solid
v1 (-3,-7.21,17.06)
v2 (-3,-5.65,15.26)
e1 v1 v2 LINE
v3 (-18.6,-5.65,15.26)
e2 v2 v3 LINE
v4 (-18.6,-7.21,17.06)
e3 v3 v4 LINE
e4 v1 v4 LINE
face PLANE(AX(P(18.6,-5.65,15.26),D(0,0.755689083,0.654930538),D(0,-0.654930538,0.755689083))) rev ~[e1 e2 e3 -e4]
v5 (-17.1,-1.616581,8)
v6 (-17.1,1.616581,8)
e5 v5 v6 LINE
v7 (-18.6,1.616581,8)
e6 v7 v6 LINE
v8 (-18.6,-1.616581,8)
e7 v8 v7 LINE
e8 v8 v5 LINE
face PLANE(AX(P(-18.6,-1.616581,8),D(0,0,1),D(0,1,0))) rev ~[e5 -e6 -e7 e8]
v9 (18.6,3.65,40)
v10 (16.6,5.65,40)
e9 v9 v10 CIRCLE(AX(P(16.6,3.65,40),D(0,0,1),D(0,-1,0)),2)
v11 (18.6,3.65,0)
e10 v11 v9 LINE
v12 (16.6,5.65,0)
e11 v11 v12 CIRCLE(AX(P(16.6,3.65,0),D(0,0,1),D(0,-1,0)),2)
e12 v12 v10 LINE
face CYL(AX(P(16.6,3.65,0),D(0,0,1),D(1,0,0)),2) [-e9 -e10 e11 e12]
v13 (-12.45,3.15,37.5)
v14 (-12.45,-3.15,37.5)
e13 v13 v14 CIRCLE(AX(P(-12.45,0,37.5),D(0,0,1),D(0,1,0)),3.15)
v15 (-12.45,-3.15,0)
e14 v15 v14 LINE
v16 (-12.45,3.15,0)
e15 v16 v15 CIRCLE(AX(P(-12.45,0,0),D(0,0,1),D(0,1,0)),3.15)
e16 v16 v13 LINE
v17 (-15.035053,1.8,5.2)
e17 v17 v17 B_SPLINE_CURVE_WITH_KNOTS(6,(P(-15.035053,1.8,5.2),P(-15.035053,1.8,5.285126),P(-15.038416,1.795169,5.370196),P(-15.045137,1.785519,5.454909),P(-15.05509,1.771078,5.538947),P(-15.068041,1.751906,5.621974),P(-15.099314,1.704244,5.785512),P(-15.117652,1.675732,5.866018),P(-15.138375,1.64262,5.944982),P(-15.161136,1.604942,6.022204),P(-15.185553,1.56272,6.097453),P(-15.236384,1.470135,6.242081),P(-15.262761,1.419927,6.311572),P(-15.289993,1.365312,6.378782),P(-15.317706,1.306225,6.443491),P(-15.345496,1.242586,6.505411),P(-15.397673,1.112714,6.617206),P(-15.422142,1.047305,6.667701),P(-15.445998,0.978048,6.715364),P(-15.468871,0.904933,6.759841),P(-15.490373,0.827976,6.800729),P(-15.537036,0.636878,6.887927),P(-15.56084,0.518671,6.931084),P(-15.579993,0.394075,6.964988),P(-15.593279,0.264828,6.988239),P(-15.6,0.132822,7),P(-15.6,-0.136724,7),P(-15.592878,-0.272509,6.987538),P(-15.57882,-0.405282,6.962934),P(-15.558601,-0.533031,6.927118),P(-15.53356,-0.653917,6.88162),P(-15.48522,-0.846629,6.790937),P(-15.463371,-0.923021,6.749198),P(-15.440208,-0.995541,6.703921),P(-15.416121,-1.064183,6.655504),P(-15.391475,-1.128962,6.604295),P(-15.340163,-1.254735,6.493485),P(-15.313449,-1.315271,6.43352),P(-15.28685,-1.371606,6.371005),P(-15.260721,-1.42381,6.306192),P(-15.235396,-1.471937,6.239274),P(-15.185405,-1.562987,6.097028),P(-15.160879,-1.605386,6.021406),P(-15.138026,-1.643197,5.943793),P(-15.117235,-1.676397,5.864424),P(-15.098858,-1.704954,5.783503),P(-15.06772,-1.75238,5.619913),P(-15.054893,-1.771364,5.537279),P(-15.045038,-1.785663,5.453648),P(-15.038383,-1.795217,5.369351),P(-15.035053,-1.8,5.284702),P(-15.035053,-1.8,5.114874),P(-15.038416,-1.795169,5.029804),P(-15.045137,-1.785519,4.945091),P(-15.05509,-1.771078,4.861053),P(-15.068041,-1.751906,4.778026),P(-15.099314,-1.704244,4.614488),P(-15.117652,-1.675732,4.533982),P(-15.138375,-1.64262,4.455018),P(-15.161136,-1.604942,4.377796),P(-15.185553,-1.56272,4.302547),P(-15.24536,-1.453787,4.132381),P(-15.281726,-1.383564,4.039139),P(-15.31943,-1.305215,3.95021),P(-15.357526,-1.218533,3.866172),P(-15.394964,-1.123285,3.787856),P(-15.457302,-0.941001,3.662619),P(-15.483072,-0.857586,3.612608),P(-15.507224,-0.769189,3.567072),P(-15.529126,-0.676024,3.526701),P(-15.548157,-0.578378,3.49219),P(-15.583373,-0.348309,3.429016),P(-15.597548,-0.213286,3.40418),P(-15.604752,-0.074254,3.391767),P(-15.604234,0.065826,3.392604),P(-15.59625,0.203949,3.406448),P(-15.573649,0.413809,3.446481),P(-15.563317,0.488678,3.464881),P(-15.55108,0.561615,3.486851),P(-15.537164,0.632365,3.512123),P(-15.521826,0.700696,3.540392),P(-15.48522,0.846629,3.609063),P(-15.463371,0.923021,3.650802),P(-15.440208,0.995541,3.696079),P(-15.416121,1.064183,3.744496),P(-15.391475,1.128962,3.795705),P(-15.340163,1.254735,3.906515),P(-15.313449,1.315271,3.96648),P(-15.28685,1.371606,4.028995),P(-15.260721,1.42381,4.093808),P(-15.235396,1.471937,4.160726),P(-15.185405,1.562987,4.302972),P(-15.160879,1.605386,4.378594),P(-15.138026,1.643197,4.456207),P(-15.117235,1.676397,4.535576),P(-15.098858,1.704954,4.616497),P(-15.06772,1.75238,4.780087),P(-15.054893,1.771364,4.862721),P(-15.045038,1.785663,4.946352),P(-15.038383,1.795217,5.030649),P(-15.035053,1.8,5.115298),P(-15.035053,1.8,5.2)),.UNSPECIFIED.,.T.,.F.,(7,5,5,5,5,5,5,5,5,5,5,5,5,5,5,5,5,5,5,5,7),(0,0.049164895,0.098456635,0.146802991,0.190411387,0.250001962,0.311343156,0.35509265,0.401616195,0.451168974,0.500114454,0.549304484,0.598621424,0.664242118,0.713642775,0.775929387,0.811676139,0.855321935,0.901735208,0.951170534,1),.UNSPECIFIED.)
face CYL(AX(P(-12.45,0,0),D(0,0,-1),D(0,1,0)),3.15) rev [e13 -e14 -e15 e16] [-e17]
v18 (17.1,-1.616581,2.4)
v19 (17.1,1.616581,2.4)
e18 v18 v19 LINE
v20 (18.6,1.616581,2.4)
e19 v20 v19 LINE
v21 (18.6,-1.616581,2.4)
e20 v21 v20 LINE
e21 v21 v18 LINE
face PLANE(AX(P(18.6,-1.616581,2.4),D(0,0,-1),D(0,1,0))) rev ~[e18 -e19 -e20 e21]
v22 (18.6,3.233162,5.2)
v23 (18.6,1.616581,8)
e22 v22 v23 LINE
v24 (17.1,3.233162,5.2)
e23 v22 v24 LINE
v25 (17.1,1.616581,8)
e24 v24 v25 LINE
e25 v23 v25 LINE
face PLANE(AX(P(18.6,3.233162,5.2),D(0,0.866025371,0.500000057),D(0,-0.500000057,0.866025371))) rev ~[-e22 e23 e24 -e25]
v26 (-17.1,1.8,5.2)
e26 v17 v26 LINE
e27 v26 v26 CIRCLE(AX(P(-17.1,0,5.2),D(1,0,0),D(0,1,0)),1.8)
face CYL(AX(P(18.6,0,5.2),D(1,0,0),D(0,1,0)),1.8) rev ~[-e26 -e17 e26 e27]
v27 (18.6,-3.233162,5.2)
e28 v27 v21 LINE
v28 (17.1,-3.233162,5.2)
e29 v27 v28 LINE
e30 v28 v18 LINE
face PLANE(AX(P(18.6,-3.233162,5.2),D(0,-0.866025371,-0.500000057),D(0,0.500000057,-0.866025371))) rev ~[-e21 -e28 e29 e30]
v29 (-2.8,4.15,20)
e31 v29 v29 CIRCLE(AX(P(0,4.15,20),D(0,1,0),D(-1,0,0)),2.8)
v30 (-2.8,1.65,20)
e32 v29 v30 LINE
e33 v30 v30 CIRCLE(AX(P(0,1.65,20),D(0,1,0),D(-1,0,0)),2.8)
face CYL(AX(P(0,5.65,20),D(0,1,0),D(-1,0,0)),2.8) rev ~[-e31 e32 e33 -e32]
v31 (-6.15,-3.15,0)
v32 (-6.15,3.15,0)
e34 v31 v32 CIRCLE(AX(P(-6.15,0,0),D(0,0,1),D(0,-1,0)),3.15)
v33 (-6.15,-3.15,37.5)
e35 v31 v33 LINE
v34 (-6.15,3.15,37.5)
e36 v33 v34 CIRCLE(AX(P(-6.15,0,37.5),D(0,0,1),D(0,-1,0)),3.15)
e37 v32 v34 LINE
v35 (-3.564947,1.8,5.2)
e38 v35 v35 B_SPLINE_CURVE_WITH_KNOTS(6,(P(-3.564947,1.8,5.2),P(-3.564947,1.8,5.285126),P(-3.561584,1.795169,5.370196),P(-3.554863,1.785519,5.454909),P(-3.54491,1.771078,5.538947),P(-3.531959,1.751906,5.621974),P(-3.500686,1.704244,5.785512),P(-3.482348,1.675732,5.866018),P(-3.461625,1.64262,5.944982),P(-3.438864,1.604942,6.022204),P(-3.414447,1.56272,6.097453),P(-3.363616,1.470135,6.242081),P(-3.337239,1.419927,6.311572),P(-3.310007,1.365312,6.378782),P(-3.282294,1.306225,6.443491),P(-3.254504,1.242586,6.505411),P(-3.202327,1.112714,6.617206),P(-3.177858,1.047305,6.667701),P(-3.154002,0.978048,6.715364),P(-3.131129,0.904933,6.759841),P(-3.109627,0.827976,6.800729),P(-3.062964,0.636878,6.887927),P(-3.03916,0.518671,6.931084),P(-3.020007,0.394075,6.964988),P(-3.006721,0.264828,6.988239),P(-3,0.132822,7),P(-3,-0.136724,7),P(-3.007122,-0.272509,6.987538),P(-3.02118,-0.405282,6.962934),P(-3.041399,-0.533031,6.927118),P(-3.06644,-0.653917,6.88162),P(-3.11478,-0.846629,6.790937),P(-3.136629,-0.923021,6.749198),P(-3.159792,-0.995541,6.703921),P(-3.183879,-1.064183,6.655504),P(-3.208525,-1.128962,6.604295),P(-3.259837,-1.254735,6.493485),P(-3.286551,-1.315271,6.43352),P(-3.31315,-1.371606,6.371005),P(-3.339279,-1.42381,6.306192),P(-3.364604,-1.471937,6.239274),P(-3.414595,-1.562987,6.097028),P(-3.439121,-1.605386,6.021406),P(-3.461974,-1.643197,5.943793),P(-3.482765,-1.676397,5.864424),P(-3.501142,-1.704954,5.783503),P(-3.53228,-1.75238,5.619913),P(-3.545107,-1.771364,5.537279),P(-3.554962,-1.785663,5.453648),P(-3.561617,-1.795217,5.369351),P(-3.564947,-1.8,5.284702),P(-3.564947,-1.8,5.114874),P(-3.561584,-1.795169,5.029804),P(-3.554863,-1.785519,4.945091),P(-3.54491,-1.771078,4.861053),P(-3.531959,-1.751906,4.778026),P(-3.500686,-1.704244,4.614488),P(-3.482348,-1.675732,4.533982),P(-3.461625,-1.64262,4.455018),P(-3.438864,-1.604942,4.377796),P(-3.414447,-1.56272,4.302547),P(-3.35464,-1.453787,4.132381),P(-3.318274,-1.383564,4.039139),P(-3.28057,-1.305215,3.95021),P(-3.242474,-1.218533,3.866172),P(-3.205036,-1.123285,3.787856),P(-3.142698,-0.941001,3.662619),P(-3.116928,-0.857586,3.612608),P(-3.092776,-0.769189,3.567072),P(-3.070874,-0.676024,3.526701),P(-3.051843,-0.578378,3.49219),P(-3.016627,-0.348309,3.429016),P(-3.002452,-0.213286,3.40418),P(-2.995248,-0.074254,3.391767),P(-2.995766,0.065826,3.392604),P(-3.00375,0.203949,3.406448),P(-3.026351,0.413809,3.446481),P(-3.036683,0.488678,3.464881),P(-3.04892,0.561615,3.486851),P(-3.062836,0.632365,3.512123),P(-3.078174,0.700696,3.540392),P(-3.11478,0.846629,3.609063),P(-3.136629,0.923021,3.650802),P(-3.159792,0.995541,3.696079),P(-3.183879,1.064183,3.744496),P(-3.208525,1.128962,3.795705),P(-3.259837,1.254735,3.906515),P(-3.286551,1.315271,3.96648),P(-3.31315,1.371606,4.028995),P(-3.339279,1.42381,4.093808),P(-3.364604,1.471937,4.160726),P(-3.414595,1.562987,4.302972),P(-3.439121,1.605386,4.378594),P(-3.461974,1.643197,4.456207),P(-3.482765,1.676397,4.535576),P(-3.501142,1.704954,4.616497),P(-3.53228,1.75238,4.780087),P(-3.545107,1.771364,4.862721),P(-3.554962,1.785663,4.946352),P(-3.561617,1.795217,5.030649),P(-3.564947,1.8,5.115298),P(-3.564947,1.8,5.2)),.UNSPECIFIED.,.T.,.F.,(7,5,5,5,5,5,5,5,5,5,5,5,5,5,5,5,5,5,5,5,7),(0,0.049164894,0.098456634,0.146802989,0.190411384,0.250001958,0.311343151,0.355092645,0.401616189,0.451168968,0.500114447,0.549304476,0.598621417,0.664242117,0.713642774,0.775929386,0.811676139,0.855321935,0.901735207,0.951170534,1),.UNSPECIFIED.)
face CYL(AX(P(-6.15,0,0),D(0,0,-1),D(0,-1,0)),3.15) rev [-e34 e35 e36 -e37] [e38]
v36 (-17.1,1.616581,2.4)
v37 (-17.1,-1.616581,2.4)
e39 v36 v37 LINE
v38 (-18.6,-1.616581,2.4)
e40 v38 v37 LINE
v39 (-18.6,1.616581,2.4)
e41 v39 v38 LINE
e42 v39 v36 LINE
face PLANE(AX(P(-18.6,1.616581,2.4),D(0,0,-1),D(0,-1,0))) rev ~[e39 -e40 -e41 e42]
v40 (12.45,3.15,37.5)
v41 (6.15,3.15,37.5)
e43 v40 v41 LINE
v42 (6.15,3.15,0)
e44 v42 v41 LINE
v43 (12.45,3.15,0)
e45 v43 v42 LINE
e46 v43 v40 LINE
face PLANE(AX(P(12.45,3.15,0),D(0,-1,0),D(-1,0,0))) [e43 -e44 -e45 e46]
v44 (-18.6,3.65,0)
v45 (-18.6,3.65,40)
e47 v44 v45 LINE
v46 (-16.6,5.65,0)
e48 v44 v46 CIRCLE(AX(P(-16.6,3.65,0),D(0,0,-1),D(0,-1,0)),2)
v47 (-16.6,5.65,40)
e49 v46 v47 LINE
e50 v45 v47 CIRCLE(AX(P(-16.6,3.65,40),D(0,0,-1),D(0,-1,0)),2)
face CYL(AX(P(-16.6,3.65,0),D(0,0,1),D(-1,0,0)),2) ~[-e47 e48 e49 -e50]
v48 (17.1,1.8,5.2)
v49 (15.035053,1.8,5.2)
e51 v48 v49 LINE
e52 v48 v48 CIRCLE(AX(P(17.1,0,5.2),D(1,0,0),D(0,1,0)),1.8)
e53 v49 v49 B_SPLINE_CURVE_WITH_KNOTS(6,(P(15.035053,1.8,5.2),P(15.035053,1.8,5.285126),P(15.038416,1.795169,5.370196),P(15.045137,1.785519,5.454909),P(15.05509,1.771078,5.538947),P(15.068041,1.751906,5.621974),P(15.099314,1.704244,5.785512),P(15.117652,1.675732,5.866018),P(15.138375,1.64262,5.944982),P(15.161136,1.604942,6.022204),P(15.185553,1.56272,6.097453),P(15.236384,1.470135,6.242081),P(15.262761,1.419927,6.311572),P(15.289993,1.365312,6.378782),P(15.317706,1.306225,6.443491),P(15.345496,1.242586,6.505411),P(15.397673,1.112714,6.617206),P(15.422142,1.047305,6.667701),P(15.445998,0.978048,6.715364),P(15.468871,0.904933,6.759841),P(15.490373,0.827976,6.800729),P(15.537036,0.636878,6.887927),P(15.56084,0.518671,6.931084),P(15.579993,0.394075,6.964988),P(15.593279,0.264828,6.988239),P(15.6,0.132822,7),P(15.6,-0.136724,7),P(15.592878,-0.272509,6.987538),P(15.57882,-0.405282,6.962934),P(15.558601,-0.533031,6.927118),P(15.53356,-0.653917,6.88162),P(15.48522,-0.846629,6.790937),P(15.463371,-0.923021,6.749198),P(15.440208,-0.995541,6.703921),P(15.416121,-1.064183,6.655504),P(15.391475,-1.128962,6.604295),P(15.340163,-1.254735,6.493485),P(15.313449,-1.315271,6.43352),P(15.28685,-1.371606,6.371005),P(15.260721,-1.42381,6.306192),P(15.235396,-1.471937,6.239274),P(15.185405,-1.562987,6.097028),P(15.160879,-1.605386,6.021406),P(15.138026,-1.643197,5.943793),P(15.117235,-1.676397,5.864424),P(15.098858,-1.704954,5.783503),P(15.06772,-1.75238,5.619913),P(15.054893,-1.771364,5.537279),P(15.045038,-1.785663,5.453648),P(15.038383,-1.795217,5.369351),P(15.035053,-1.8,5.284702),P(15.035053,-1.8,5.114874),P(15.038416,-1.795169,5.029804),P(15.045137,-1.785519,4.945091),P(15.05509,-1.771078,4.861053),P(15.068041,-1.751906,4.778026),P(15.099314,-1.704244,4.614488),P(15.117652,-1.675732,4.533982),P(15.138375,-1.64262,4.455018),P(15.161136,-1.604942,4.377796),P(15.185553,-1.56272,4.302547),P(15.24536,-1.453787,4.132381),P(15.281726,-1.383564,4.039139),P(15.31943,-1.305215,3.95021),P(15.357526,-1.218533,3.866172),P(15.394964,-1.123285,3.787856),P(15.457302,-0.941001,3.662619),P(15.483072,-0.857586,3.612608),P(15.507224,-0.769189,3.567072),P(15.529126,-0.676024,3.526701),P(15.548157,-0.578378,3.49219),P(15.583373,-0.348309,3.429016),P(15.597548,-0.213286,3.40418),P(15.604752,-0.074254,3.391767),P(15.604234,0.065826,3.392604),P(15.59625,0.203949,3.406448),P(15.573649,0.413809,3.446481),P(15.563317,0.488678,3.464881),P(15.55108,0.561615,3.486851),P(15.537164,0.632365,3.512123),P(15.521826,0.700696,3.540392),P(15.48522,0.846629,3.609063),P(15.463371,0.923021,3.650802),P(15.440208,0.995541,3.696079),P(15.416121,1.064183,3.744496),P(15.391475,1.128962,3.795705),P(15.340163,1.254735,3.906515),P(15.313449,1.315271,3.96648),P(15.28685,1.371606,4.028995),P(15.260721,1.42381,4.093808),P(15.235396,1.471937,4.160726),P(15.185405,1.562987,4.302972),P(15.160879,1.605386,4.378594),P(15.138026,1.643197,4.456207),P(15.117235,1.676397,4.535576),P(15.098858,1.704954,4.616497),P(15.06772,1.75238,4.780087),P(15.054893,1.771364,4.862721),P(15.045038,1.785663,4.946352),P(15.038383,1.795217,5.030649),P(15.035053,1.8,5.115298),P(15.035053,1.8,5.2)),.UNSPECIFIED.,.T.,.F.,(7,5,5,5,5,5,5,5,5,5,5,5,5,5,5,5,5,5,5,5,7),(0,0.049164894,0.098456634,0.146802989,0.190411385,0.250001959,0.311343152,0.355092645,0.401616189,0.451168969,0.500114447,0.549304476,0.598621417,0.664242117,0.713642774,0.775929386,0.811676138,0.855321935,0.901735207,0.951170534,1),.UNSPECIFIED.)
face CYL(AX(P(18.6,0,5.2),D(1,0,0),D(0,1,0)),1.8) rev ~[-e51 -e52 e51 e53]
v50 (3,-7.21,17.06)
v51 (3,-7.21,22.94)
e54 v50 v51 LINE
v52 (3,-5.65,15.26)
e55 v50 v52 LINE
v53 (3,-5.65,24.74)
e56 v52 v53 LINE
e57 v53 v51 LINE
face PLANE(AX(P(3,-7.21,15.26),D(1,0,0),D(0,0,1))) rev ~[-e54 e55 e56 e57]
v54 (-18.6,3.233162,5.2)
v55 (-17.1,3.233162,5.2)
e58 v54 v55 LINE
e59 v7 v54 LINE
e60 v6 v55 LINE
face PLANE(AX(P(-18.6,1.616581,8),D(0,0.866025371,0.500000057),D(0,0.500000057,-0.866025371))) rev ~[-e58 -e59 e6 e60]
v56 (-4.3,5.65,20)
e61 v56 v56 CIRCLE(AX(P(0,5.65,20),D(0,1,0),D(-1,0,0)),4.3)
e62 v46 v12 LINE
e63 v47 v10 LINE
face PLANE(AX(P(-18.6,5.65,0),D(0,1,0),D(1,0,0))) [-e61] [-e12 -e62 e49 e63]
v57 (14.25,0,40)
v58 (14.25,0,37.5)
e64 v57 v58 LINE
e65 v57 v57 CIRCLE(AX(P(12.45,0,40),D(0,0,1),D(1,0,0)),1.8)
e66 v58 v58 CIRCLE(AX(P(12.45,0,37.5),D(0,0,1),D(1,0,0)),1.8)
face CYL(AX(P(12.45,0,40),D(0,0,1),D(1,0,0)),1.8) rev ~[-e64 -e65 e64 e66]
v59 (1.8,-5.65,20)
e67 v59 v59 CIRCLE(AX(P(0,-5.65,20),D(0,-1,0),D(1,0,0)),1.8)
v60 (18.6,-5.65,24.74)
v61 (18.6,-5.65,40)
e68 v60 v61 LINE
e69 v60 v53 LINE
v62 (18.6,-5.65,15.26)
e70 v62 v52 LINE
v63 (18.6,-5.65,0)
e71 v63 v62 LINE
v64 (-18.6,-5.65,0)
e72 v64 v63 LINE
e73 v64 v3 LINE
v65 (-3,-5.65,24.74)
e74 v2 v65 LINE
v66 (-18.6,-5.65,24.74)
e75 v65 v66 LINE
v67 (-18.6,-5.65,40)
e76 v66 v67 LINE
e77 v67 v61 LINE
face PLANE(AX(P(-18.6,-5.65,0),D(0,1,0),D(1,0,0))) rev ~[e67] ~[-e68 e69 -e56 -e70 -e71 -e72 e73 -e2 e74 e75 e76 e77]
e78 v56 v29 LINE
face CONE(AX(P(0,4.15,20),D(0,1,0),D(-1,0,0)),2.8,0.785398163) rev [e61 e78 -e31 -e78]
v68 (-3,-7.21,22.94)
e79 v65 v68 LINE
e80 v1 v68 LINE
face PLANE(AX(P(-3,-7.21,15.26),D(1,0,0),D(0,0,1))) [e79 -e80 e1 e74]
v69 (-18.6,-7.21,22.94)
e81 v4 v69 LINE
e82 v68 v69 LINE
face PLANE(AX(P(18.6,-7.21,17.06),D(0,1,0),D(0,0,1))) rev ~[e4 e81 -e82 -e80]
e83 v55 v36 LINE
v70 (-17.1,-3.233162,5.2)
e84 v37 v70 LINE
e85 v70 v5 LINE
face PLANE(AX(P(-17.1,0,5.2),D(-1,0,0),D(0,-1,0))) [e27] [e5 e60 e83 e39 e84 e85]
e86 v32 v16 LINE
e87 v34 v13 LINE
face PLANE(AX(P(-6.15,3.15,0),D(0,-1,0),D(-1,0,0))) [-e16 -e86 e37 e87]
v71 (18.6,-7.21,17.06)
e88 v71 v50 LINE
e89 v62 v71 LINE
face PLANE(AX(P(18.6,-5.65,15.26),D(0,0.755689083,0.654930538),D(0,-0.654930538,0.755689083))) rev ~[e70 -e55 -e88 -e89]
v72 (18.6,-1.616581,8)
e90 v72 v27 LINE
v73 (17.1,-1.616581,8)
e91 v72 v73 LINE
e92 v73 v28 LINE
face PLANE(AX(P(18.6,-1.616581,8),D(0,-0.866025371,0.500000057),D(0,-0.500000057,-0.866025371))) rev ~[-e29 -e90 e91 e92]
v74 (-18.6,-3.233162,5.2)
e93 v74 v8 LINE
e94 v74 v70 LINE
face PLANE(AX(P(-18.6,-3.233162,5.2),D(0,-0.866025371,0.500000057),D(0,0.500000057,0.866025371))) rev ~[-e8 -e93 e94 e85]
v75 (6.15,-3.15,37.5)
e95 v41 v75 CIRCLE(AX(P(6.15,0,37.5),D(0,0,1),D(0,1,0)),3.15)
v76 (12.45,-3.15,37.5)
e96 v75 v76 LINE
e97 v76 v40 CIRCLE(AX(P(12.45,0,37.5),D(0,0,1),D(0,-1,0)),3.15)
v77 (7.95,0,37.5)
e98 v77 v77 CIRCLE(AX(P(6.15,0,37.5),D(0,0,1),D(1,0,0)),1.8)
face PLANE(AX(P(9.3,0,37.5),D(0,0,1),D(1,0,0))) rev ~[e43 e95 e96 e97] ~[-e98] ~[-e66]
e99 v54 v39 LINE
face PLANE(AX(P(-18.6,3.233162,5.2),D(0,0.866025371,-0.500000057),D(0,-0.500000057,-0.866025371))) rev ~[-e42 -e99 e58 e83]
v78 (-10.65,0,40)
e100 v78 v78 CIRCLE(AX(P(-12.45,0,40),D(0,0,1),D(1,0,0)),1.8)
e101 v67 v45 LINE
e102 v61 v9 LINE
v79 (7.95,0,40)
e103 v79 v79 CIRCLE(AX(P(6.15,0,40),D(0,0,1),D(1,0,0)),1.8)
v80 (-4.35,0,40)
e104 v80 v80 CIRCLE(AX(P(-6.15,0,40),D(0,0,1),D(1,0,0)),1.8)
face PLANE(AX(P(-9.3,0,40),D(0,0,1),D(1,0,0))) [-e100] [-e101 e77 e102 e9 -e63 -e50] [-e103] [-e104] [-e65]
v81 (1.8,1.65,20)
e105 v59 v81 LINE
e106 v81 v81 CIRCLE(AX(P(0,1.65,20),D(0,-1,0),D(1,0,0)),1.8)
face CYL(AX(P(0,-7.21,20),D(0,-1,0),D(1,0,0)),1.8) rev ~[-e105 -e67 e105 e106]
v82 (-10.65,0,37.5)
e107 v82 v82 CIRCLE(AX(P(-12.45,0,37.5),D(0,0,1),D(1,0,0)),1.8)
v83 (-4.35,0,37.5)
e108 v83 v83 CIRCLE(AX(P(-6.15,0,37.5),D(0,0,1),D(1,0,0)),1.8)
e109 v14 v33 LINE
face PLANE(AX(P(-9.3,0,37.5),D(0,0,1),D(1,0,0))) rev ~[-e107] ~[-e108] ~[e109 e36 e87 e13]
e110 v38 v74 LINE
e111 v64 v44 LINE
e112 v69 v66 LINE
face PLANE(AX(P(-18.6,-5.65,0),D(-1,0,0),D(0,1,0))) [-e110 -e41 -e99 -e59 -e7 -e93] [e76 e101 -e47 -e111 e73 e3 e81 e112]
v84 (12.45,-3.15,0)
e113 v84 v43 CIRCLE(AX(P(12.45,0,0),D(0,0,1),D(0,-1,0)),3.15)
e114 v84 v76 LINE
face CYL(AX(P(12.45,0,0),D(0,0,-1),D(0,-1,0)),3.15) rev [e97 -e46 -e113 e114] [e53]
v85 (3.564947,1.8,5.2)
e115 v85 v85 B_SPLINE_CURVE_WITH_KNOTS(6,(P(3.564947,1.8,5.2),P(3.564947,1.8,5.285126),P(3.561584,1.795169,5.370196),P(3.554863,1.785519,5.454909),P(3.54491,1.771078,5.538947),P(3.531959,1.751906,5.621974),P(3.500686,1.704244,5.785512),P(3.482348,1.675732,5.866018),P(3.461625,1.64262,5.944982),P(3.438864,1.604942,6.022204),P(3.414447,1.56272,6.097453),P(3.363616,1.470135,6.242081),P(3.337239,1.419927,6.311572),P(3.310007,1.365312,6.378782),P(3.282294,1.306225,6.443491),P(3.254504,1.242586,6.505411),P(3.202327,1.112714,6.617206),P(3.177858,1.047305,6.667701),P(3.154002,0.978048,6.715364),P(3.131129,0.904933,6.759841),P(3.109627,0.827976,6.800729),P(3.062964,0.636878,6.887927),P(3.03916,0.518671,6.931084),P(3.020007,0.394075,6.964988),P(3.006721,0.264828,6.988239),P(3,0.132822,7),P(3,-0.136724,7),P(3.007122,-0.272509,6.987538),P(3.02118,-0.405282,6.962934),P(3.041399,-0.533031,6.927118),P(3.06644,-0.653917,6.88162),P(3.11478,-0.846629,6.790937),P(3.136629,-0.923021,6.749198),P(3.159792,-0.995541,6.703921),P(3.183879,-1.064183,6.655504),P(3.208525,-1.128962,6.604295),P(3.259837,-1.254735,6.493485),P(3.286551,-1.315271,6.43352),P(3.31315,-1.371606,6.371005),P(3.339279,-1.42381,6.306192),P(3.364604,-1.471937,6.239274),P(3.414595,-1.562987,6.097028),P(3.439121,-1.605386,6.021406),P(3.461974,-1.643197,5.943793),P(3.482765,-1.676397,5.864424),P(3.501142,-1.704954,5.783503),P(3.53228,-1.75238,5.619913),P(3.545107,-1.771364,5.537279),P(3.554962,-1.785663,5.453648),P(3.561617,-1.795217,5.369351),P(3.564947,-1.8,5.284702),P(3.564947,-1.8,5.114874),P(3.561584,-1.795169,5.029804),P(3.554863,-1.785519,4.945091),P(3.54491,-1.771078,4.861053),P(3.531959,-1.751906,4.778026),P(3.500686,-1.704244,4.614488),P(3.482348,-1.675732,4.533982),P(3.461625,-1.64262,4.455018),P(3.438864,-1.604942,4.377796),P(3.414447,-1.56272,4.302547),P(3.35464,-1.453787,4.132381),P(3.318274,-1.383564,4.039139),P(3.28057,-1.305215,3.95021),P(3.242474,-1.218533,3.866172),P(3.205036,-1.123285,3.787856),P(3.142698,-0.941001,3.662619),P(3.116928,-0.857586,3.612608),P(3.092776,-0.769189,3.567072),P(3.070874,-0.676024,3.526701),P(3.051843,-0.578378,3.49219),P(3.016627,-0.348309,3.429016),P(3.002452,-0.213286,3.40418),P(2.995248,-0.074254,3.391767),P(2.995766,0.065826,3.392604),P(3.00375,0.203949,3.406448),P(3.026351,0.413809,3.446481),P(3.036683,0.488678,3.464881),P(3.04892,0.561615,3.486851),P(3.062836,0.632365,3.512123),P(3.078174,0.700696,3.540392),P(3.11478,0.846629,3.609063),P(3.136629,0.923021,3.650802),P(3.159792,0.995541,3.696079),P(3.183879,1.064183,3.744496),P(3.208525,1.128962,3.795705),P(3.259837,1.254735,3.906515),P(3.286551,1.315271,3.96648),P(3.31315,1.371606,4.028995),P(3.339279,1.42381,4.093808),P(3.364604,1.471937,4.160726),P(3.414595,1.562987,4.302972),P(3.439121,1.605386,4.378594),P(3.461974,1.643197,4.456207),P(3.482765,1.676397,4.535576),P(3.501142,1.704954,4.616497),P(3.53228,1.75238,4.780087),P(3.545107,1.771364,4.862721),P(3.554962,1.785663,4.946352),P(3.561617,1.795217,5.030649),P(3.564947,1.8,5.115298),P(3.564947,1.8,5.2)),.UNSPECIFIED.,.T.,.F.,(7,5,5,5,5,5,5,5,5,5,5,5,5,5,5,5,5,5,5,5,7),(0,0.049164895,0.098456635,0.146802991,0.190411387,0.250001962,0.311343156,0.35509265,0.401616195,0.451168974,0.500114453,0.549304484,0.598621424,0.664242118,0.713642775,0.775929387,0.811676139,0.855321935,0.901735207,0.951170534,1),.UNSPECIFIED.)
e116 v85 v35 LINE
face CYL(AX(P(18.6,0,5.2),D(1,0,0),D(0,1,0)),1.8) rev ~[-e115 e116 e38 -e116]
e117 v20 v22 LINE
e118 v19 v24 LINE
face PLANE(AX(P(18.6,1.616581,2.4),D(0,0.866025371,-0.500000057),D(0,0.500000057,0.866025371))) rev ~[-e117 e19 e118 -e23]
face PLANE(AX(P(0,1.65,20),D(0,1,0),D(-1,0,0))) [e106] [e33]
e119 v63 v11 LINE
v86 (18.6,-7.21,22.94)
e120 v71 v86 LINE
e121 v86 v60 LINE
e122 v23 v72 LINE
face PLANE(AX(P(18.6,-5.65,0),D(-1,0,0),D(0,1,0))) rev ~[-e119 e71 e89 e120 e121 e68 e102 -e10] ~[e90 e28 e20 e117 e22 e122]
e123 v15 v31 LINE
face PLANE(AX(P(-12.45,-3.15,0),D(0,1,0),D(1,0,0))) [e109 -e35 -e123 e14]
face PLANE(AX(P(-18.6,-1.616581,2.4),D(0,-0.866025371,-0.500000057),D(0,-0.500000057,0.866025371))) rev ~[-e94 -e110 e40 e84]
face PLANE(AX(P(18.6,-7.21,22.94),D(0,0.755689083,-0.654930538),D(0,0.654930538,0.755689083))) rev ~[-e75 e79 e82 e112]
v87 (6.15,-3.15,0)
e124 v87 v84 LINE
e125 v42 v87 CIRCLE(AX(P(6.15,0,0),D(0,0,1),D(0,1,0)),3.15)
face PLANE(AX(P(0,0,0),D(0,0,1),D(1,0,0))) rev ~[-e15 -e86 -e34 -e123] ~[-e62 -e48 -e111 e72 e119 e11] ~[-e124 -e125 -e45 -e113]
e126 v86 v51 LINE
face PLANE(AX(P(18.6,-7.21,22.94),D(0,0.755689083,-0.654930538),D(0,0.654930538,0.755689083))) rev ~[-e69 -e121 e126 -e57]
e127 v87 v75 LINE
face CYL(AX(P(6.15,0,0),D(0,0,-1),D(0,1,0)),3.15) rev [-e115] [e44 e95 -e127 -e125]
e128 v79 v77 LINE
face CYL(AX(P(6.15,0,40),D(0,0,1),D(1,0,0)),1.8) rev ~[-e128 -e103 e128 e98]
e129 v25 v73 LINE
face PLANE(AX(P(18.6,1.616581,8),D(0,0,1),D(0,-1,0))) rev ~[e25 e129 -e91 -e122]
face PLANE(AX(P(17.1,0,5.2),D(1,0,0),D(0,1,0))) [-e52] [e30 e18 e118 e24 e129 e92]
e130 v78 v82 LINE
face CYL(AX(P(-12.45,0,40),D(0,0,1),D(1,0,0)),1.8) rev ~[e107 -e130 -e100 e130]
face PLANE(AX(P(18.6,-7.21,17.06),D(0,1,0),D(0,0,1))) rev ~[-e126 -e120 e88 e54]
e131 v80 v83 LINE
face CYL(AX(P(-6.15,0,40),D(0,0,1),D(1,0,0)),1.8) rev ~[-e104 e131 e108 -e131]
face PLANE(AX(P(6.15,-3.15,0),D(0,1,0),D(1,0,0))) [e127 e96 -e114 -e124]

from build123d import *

# Parameters (mm, degrees)
SKETCH_W        = 37.2
SKETCH_H        = 11.3
PAD_DEPTH       = 40
SKETCH001_R     = 1.8
PAD001_DEPTH    = 2.5
PAD002_DEPTH    = 37.2
SKETCH003_R     = 1.8
POCKET_DEPTH    = 12.861
SKETCH004_W     = 6
SKETCH004_H     = 9.48
POCKET001_DEPTH = 1.56
SKETCH005_R     = 2.8
POCKET002_DEPTH = 4
SKETCH006_R     = 1.8
POCKET003_DEPTH = 37.201
POCKET004_DEPTH = 1.5
POCKET005_DEPTH = 1.5
FILLET_R        = 2
CHAMFER_SIZE    = 1.5


with BuildPart() as part:
    # Sketch → Pad (new body)
    with BuildSketch(Plane.XY):
        Rectangle(SKETCH_W, SKETCH_H)
        with BuildLine():
            ThreePointArc((-12.45, 3.15), (-15.6, 0), (-12.45, -3.15))
            Line((-12.45, -3.15), (-6.15, -3.15))
            ThreePointArc((-6.15, -3.15), (-3, 0), (-6.15, 3.15))
            Line((-6.15, 3.15), (-12.45, 3.15))
        make_face(mode=Mode.SUBTRACT)
        with BuildLine():
            ThreePointArc((12.45, -3.15), (15.6, 0), (12.45, 3.15))
            Line((12.45, 3.15), (6.15, 3.15))
            ThreePointArc((6.15, 3.15), (3, 0), (6.15, -3.15))
            Line((6.15, -3.15), (12.45, -3.15))
        make_face(mode=Mode.SUBTRACT)
    extrude(amount=PAD_DEPTH)

    # Sketch001 (on Face14 of Pad) → Pad001 (join)
    with BuildSketch(Plane.XY.offset(40)):
        with BuildLine():
            ThreePointArc((-12.45, 3.15), (-15.6, 0), (-12.45, -3.15))
            Line((-12.45, -3.15), (-6.15, -3.15))
            ThreePointArc((-6.15, -3.15), (-3, 0), (-6.15, 3.15))
            Line((-6.15, 3.15), (-12.45, 3.15))
        make_face()
        with Locations((-12.45, 0)):
            Circle(SKETCH001_R, mode=Mode.SUBTRACT)
        with Locations((-6.15, 0)):
            Circle(SKETCH001_R, mode=Mode.SUBTRACT)
        with BuildLine():
            ThreePointArc((12.45, -3.15), (15.6, 0), (12.45, 3.15))
            Line((12.45, 3.15), (6.15, 3.15))
            ThreePointArc((6.15, 3.15), (3, 0), (6.15, -3.15))
            Line((6.15, -3.15), (12.45, -3.15))
        make_face()
        with Locations((6.15, 0)):
            Circle(SKETCH001_R, mode=Mode.SUBTRACT)
        with Locations((12.45, 0)):
            Circle(SKETCH001_R, mode=Mode.SUBTRACT)
    extrude(amount=-PAD001_DEPTH)

    # Sketch002 (on Face3 of Pad001) → Pad002 (join)
    with BuildSketch(Plane.YZ.offset(18.6)):
        Polygon((-5.65, 24.74), (-5.65, 15.26), (-7.21, 17.06), (-7.21, 22.94), align=None)
    extrude(amount=-PAD002_DEPTH)

    # Sketch003 (on Face22 of Pad002) → Pocket (cut, through all)
    with BuildSketch(Plane.XZ.offset(7.21)):
        with Locations((0, 20)):
            Circle(SKETCH003_R)
    extrude(amount=-POCKET_DEPTH, mode=Mode.SUBTRACT)

    # Sketch004 (on Face21 of Pocket) → Pocket001 (cut)
    with BuildSketch(Plane.XZ.offset(7.21)):
        with Locations((0, 20)):
            Rectangle(SKETCH004_W, SKETCH004_H)
    extrude(amount=-POCKET001_DEPTH, mode=Mode.SUBTRACT)

    # Sketch005 (on Face1 of Pocket001) → Pocket002 (cut)
    with BuildSketch(Plane(origin=(0, 5.65, 0), x_dir=(-1, 0, 0), z_dir=(0, 1, 0))):
        with Locations((0, 20)):
            Circle(SKETCH005_R)
    extrude(amount=-POCKET002_DEPTH, mode=Mode.SUBTRACT)

    # Sketch006 (on Face5 of Pocket002) → Pocket003 (cut, through all)
    with BuildSketch(Plane.YZ.offset(18.6)):
        with Locations((0, 5.2)):
            Circle(SKETCH006_R)
    extrude(amount=-POCKET003_DEPTH, mode=Mode.SUBTRACT)

    # Sketch007 (on Face5 of Pocket003) → Pocket004 (cut)
    with BuildSketch(Plane.YZ.offset(18.6)):
        Polygon((1.616581, 8), (-1.616581, 8), (-3.233162, 5.2), (-1.616581, 2.4), (1.616581, 2.4), (3.233162, 5.2), align=None)
    extrude(amount=-POCKET004_DEPTH, mode=Mode.SUBTRACT)

    # Sketch008 (on Face2 of Pocket004) → Pocket005 (cut)
    with BuildSketch(Plane(origin=(-18.6, 0, 0), x_dir=(0, -1, 0), z_dir=(-1, 0, 0))):
        Polygon((1.616581, 8), (-1.616581, 8), (-3.233162, 5.2), (-1.616581, 2.4), (1.616581, 2.4), (3.233162, 5.2), align=None)
    extrude(amount=-POCKET005_DEPTH, mode=Mode.SUBTRACT)

    # Fillet
    fillet_edges = [part.edges().sort_by_distance(p)[0] for p in [
        (-18.6, 5.65, 20),
        (18.6, 5.65, 20),
    ]]
    fillet(fillet_edges, radius=FILLET_R)

    # Chamfer
    chamfer_edges = [part.edges().sort_by_distance(p)[0] for p in [
        (2.8, 5.65, 20),
    ]]
    chamfer(chamfer_edges, length=CHAMFER_SIZE)


solid = part.part
